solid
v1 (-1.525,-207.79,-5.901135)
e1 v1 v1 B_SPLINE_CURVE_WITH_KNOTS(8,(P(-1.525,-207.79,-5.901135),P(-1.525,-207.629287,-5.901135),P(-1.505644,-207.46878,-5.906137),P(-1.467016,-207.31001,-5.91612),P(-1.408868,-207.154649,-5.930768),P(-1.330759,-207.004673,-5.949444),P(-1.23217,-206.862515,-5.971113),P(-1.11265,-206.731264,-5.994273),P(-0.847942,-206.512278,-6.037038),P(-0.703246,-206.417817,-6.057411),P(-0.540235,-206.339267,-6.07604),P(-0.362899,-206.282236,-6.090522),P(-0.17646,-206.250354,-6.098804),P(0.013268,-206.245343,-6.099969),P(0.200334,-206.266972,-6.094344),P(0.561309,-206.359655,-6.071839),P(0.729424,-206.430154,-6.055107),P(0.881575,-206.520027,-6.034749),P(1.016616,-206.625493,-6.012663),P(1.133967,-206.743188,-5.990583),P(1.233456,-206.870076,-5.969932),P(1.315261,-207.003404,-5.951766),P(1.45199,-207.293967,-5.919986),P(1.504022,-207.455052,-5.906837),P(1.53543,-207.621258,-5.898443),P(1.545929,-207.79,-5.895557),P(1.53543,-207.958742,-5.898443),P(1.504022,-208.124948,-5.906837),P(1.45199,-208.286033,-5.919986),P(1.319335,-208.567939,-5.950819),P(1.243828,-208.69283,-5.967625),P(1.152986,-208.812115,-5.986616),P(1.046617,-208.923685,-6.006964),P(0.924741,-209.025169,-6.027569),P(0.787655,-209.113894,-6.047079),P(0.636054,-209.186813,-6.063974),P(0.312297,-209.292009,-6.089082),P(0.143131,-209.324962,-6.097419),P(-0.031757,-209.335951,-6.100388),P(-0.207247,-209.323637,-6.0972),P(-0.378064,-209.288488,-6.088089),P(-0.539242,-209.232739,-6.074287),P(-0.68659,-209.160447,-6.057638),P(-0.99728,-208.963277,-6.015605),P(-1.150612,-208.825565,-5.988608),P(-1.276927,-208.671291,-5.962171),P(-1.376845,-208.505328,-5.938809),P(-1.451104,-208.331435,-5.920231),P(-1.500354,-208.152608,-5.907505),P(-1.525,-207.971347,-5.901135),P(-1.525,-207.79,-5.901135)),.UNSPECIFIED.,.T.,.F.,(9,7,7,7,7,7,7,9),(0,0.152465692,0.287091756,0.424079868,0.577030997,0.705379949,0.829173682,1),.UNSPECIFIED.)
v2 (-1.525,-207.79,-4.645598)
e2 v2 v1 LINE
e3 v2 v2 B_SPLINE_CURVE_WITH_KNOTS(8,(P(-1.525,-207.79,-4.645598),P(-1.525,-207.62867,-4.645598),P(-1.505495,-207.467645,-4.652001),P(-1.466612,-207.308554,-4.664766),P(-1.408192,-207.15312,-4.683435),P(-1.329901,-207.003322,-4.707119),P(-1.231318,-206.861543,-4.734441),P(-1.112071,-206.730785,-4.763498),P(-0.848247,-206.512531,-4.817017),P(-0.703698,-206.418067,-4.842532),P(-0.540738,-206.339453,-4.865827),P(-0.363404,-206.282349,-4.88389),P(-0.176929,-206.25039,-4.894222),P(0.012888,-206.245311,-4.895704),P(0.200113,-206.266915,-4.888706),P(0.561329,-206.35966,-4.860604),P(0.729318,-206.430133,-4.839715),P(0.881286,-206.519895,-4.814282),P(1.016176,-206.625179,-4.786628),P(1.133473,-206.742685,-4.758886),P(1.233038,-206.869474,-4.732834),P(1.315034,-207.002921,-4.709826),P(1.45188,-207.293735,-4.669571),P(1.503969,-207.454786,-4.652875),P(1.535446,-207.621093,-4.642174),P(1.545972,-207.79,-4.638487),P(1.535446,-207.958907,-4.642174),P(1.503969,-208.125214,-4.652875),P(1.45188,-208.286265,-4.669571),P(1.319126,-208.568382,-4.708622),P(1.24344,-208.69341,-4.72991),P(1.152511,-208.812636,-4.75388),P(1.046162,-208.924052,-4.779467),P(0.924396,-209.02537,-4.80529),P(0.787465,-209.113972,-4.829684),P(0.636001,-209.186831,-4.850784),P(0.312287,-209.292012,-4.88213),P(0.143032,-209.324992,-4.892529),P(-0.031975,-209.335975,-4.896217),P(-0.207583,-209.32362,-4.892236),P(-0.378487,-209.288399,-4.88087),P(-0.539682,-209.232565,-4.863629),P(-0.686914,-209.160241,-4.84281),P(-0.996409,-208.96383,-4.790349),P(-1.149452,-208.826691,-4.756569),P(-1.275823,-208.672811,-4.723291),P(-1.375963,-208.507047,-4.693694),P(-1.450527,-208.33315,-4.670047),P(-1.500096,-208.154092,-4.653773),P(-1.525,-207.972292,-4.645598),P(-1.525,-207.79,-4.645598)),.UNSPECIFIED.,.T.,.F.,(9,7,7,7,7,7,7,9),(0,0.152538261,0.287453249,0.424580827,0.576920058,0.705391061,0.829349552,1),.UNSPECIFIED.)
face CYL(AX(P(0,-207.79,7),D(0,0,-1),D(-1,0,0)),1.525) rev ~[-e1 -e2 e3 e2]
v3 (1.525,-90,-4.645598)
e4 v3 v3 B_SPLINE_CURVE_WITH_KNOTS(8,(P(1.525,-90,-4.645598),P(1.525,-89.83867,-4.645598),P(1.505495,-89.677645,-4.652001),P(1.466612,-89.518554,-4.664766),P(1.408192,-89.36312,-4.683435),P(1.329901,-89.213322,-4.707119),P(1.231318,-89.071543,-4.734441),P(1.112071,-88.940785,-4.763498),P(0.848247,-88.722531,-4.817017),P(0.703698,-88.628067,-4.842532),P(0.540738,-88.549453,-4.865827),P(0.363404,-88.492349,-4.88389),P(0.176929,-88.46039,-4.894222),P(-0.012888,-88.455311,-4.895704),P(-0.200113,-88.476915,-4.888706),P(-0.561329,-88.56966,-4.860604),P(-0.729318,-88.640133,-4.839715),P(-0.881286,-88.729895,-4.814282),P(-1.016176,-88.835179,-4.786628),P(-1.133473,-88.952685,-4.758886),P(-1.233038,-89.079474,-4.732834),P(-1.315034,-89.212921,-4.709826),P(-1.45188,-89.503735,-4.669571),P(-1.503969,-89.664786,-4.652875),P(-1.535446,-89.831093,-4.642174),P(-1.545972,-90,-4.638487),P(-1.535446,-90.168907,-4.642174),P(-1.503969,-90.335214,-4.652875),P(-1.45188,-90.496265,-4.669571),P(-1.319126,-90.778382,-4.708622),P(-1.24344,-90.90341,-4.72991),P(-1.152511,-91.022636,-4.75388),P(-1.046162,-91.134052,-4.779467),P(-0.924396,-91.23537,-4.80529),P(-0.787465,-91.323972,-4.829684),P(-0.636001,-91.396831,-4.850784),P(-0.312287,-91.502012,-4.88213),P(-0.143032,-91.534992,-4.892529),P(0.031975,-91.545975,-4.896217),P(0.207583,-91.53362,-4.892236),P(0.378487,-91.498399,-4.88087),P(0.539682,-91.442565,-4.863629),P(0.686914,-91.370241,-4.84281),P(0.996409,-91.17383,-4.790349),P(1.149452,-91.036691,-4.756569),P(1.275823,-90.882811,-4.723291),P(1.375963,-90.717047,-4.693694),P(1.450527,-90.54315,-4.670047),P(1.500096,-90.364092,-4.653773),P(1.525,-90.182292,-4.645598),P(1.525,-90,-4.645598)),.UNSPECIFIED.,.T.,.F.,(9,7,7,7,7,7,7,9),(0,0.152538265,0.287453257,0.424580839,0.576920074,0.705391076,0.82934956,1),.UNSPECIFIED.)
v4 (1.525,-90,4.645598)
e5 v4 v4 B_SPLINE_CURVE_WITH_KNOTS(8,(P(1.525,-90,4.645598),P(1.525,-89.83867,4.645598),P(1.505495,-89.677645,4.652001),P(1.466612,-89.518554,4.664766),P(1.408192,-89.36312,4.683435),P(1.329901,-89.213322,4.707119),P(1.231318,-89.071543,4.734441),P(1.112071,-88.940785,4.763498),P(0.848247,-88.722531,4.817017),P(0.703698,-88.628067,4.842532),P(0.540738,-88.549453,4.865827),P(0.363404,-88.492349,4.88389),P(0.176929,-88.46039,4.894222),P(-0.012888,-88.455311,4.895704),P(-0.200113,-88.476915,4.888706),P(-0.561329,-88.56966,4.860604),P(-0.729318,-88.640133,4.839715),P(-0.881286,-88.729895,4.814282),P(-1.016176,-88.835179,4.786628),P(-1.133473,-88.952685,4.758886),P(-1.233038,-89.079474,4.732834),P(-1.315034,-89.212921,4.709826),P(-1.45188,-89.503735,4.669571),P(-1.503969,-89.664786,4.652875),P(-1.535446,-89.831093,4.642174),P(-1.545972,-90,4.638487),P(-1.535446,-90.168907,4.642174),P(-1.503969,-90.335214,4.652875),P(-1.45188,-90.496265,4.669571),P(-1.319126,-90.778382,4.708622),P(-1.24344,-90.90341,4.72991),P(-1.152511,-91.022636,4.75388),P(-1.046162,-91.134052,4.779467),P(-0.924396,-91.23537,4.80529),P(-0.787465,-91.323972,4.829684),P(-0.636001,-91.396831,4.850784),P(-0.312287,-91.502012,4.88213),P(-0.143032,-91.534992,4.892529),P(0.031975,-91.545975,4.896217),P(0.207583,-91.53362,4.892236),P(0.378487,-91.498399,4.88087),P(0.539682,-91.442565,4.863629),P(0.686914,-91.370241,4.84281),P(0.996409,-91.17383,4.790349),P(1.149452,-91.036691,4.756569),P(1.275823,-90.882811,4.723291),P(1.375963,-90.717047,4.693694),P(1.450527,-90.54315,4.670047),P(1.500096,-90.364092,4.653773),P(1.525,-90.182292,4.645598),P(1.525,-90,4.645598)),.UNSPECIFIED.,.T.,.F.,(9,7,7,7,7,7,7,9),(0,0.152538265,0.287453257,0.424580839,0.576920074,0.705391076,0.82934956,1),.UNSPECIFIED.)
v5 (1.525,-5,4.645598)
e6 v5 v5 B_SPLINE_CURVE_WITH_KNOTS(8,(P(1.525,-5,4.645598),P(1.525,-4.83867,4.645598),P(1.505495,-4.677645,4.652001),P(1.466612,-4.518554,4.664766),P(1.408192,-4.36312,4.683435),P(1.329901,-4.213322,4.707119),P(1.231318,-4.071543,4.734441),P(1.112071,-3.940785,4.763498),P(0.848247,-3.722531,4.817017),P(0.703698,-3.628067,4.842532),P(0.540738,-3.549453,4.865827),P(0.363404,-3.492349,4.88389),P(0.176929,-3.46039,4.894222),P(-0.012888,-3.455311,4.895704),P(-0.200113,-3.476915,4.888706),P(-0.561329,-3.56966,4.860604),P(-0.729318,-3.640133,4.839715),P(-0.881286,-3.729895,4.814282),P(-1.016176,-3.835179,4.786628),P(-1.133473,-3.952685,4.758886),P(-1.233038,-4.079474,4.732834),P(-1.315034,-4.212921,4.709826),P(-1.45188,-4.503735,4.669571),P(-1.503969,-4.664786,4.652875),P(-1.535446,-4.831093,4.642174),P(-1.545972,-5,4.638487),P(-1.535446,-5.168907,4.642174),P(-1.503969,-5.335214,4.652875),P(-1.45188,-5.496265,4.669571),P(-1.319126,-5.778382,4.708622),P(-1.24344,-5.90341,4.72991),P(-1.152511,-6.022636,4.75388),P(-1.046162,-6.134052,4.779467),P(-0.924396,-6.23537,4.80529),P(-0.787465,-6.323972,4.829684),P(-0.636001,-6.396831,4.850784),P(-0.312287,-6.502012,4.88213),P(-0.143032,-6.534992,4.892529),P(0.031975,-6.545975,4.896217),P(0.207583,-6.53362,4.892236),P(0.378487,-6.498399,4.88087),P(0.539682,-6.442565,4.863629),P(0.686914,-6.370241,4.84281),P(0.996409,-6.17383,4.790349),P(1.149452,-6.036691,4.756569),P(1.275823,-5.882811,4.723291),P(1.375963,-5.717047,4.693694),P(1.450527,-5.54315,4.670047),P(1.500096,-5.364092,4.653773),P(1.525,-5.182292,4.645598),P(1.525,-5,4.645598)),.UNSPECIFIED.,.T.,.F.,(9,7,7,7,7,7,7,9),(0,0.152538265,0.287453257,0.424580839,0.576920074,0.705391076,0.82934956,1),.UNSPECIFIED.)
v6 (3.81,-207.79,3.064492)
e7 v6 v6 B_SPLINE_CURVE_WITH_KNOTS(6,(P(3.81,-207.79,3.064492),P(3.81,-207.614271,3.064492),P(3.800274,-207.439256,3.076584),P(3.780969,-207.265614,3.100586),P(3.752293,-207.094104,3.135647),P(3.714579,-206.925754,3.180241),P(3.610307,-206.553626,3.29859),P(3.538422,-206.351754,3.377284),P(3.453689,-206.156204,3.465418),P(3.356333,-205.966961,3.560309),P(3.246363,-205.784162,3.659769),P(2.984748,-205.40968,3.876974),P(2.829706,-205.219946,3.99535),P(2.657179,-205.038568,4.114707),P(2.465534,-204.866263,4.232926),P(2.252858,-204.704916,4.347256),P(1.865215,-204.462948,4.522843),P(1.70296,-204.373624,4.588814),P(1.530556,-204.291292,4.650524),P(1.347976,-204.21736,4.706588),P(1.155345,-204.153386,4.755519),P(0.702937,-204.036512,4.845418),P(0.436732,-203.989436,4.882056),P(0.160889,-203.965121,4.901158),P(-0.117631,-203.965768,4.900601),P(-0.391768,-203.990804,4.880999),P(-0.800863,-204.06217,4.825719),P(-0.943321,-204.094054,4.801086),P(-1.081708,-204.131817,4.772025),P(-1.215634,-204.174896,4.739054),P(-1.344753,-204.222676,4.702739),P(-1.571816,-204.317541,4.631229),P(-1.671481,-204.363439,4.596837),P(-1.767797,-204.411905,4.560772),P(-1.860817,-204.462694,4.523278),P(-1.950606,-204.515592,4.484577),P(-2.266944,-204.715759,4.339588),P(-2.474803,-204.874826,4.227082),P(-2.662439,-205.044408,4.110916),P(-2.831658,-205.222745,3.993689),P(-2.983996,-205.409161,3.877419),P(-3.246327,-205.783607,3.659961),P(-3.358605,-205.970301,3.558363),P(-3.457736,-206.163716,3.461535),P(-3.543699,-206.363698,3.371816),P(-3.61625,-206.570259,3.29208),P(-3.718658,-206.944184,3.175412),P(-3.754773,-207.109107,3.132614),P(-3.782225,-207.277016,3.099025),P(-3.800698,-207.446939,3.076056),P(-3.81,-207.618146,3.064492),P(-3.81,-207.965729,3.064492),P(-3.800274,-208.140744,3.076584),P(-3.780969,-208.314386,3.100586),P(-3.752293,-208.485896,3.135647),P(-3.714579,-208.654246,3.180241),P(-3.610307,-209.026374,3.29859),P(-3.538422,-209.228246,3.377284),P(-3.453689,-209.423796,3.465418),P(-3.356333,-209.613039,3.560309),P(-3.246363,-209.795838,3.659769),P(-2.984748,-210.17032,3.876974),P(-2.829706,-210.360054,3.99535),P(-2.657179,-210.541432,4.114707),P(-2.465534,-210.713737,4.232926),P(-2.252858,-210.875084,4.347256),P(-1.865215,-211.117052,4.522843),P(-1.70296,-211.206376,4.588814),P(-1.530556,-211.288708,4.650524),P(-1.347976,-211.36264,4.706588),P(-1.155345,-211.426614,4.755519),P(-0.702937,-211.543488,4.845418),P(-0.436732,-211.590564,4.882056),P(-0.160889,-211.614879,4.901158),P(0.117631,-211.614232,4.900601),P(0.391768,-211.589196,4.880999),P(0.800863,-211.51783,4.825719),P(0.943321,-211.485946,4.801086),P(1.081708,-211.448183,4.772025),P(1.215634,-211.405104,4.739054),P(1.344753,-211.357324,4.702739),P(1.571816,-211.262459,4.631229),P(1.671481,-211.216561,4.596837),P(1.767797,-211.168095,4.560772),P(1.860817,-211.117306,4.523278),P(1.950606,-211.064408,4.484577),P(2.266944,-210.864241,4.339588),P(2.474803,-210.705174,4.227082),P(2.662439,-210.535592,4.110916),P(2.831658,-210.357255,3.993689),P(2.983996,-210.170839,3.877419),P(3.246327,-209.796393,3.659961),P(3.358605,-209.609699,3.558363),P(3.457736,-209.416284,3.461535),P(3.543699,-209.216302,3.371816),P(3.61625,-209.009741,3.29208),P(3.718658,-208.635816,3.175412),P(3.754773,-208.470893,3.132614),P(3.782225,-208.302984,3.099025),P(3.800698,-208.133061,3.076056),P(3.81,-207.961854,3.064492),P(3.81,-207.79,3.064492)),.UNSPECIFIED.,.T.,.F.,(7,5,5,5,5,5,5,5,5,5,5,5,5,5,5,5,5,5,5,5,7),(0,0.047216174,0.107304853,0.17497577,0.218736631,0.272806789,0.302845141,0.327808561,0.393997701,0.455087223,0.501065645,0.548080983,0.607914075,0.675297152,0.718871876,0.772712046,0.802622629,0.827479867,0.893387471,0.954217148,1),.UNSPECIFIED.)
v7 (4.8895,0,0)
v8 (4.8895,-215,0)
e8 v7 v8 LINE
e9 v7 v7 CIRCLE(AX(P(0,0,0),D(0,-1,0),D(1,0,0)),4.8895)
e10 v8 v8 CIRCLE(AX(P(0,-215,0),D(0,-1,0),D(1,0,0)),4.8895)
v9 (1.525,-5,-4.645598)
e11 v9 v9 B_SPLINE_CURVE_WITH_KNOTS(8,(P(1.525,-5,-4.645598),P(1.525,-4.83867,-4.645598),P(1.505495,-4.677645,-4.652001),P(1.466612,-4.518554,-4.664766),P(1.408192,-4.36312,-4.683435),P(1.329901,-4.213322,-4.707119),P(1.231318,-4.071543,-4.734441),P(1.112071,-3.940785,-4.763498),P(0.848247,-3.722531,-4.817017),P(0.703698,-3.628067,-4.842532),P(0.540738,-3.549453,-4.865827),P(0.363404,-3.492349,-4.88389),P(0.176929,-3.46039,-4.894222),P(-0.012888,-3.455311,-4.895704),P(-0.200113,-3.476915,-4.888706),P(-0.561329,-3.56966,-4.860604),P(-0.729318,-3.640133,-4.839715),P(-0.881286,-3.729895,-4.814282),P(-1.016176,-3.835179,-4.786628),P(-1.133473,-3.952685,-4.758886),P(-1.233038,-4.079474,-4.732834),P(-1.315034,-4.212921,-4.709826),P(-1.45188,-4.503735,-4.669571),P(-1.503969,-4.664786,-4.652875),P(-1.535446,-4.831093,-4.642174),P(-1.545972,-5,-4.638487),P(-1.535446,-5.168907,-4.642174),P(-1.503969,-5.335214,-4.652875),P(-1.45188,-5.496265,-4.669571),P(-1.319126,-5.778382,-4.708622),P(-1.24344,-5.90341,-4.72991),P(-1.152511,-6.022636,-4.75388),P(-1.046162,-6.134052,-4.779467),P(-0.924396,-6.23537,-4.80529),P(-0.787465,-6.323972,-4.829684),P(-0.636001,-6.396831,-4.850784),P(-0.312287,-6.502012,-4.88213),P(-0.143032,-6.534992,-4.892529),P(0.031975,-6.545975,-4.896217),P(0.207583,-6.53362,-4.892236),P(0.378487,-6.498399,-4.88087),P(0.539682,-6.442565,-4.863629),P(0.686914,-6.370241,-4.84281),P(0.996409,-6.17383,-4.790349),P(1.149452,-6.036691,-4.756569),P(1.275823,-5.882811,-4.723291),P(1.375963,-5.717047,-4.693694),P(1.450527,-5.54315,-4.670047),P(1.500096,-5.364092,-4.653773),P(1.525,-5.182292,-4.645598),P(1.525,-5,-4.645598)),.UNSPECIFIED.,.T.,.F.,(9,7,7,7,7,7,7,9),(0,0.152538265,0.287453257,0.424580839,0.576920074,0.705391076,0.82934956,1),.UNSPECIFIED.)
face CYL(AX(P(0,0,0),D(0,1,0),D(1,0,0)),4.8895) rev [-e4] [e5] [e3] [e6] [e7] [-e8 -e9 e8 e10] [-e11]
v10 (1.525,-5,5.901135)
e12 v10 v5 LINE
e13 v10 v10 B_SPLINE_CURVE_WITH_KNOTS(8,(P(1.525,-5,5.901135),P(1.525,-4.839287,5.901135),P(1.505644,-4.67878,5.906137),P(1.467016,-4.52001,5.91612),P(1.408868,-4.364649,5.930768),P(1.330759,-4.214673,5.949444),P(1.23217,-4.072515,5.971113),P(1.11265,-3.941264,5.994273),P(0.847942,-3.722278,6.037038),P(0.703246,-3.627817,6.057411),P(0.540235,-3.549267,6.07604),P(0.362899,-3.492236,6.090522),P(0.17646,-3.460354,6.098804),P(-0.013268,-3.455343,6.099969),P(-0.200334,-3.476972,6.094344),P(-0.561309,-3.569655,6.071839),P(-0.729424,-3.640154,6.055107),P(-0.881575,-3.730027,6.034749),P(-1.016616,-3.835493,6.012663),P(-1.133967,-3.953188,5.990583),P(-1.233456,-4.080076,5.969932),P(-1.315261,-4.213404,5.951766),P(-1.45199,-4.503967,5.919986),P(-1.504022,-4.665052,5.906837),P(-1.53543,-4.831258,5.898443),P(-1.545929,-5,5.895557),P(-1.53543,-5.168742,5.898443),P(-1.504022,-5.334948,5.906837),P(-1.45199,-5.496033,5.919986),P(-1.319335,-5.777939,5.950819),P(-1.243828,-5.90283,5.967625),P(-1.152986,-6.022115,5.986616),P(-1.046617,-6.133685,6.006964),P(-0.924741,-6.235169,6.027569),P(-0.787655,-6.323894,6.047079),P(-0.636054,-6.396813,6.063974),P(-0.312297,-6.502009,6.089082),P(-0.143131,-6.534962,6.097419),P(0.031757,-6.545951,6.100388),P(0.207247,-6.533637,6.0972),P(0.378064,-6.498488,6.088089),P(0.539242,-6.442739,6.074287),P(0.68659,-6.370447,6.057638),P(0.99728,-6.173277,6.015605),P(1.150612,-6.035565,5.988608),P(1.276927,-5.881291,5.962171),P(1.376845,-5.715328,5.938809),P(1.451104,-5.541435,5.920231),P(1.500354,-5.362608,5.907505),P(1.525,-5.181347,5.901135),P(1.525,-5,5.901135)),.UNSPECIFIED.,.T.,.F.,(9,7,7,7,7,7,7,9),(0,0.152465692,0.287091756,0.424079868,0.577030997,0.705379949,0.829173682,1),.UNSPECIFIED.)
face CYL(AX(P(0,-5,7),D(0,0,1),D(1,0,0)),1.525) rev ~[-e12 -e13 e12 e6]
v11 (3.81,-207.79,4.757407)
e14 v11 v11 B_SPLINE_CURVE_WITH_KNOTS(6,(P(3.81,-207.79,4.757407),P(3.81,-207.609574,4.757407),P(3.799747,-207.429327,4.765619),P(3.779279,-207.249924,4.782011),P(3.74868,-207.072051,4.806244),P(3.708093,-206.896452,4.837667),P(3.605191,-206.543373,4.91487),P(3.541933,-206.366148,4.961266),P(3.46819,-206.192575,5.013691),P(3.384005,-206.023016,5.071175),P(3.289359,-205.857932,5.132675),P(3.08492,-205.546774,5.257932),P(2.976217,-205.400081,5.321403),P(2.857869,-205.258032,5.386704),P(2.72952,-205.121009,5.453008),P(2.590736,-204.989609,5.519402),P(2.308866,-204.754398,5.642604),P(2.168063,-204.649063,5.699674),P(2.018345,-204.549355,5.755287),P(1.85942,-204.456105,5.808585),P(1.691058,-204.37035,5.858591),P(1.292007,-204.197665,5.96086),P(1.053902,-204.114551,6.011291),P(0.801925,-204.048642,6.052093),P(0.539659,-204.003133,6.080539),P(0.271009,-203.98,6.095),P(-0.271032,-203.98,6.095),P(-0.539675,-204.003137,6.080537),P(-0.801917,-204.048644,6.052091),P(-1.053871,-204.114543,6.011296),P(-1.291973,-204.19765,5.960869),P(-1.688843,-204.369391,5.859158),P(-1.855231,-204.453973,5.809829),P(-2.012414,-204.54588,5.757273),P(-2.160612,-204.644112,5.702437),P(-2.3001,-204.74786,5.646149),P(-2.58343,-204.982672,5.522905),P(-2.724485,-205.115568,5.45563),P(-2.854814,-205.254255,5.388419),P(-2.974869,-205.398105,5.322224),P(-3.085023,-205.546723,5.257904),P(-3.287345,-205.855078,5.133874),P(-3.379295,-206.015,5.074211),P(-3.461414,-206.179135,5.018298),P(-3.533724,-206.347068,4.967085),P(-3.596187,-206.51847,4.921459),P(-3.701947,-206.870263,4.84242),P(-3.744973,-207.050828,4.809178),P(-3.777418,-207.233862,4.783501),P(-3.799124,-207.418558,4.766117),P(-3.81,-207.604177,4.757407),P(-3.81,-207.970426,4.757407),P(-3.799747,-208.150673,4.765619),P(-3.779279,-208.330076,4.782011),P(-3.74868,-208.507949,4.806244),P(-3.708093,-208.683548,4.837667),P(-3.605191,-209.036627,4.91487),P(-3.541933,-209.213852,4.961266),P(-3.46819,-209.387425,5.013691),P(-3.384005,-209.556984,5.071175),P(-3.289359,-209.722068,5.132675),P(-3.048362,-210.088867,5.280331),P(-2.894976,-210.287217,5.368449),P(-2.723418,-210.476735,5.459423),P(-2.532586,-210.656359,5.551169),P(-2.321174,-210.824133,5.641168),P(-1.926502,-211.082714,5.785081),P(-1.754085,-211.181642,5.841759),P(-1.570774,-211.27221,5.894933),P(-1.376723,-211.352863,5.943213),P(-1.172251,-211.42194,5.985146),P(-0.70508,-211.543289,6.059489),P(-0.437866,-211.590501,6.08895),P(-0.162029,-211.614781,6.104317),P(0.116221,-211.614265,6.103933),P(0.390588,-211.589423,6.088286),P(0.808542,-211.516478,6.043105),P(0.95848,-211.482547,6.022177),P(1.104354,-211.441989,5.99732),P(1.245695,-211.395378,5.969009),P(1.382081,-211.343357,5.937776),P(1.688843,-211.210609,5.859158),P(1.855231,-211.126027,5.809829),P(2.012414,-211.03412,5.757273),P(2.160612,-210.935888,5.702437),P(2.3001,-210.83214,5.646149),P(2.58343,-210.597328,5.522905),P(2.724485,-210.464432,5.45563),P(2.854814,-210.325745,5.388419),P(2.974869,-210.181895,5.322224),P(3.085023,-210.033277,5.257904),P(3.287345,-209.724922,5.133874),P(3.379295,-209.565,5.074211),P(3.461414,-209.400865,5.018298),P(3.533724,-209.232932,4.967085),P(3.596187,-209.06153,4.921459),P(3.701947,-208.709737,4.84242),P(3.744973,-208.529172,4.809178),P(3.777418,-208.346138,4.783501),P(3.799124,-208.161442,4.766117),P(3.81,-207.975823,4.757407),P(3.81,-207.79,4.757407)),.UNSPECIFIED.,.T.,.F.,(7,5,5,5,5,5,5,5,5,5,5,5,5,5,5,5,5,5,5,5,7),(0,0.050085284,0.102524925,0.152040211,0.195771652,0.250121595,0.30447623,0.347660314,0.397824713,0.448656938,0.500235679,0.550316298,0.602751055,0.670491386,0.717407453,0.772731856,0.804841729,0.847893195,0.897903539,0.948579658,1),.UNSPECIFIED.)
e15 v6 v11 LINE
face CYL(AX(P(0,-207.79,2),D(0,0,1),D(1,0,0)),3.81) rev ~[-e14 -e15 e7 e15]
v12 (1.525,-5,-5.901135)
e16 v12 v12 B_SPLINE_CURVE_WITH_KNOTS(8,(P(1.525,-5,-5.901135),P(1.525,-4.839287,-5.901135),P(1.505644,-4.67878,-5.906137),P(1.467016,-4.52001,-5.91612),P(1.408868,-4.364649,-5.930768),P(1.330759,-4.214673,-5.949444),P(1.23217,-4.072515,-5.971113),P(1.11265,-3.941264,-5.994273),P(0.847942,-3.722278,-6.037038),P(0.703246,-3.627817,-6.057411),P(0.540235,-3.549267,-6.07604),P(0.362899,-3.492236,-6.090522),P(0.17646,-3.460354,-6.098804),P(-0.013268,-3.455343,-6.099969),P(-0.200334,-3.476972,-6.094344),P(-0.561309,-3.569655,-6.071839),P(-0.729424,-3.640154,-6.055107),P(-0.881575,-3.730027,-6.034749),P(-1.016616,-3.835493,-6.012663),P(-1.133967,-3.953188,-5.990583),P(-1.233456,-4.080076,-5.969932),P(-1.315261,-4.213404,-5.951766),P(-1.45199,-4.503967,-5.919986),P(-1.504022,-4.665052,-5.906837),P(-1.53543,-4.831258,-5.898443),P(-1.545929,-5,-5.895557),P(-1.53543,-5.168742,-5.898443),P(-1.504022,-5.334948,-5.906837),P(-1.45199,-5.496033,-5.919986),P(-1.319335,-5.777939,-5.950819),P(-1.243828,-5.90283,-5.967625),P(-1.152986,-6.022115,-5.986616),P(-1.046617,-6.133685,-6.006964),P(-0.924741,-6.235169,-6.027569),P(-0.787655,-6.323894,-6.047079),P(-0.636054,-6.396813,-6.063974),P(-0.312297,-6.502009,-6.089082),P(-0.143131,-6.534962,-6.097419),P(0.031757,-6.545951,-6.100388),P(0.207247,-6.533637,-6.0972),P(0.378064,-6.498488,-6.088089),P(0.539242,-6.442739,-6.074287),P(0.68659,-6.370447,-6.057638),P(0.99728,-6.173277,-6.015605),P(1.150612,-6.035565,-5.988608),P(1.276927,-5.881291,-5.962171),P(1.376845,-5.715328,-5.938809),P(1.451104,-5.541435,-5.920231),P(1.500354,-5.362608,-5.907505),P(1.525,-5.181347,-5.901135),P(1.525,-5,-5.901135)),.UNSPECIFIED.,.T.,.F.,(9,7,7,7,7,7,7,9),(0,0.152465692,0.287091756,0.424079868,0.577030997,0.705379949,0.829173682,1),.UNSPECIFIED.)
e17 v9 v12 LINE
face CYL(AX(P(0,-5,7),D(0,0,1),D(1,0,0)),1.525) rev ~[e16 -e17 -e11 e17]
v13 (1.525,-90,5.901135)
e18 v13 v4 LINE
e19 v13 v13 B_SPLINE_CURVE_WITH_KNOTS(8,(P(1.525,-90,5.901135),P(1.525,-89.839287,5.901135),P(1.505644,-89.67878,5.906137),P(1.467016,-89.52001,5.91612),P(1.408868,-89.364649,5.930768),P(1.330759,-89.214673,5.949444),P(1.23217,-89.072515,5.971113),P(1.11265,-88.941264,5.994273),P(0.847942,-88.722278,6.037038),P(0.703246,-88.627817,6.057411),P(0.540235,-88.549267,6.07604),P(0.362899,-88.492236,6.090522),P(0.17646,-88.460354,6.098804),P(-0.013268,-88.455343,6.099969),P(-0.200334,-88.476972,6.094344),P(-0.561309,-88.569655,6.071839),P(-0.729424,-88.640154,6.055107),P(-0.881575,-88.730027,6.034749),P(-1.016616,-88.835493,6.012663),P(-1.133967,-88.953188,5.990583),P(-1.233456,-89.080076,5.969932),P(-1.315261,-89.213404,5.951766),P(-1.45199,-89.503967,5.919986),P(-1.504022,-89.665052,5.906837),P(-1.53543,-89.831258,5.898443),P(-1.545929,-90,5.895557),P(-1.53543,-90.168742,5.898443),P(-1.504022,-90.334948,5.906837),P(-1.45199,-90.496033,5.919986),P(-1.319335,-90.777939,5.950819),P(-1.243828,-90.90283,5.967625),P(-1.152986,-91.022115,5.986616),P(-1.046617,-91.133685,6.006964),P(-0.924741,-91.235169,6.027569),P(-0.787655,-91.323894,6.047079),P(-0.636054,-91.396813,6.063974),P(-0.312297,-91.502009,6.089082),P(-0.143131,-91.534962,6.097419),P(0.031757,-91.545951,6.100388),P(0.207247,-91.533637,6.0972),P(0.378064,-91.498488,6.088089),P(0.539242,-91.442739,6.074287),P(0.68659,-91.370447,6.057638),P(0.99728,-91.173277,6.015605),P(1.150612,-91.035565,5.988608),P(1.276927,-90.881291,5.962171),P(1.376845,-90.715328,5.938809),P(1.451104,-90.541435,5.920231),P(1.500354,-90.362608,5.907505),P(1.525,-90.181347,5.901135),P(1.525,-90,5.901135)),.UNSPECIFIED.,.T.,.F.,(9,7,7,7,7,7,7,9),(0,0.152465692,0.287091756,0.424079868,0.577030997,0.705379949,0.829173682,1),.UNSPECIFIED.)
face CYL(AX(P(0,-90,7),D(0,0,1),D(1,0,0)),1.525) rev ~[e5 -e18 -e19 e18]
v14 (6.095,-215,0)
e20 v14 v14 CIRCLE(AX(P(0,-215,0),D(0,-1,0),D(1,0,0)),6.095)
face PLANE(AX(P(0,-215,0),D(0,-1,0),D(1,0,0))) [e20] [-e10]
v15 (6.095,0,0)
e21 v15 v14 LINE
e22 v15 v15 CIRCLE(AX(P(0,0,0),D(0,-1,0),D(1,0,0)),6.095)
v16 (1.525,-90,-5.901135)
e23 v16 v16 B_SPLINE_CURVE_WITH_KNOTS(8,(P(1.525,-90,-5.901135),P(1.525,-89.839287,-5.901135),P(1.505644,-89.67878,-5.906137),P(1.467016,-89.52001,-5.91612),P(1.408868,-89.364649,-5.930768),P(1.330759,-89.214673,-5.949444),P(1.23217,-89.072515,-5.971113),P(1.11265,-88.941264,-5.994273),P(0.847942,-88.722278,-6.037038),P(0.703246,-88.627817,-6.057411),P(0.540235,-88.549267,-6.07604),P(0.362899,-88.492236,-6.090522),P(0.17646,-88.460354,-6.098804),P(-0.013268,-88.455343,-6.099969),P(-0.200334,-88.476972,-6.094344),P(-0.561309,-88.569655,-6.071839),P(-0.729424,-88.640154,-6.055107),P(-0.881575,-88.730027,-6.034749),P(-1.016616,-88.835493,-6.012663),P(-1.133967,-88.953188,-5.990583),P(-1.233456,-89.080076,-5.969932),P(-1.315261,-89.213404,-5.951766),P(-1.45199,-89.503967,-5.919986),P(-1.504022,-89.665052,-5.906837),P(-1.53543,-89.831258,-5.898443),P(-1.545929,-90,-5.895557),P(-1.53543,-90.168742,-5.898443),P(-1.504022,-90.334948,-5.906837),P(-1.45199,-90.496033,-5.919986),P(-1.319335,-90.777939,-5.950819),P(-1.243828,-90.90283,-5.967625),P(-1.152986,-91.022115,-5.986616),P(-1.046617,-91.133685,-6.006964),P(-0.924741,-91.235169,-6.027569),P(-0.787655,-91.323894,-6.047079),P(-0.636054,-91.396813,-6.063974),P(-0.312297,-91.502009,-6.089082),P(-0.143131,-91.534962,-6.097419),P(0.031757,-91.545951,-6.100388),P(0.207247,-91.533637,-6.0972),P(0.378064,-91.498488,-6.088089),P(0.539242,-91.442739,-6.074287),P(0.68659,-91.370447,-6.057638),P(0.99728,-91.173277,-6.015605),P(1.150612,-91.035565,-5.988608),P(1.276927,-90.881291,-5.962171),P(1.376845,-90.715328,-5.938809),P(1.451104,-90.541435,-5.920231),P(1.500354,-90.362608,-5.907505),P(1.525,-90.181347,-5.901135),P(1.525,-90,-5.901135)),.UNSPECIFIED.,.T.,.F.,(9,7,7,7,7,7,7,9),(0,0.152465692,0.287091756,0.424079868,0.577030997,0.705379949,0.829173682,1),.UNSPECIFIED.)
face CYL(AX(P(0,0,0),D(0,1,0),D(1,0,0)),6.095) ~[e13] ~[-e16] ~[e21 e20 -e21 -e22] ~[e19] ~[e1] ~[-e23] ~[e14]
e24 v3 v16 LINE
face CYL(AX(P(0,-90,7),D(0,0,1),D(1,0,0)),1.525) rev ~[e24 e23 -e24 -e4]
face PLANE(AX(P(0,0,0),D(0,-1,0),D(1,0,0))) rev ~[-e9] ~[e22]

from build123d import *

# Parameters (mm, degrees)
SKETCH_R         = 6.095
SKETCH_R_2       = 4.8895
PAD_DEPTH        = 215
HOLE_D           = 3.05
HOLE_DEPTH       = 25
HOLE_CBORE_D     = 7.62
HOLE_CBORE_DEPTH = 5
SKETCH002_R      = 1.525
HOLE001_DEPTH    = 25


with BuildPart() as part:
    # Sketch → Pad (new body)
    with BuildSketch(Plane.XZ):
        Circle(SKETCH_R)
        Circle(SKETCH_R_2, mode=Mode.SUBTRACT)
    extrude(amount=PAD_DEPTH)

    # Hole
    with Locations(Plane.XY.offset(7)):
        with Locations((0, -207.79)):
            CounterBoreHole(HOLE_D / 2, HOLE_CBORE_D / 2, HOLE_CBORE_DEPTH, depth=HOLE_DEPTH)

    # Sketch002 → Hole001 (cut)
    with BuildSketch(Plane.XY.offset(7)):
        with Locations((0, -5)):
            Circle(SKETCH002_R)
        with Locations((0, -90)):
            Circle(SKETCH002_R)
    extrude(amount=-HOLE001_DEPTH, mode=Mode.SUBTRACT)


solid = part.part
